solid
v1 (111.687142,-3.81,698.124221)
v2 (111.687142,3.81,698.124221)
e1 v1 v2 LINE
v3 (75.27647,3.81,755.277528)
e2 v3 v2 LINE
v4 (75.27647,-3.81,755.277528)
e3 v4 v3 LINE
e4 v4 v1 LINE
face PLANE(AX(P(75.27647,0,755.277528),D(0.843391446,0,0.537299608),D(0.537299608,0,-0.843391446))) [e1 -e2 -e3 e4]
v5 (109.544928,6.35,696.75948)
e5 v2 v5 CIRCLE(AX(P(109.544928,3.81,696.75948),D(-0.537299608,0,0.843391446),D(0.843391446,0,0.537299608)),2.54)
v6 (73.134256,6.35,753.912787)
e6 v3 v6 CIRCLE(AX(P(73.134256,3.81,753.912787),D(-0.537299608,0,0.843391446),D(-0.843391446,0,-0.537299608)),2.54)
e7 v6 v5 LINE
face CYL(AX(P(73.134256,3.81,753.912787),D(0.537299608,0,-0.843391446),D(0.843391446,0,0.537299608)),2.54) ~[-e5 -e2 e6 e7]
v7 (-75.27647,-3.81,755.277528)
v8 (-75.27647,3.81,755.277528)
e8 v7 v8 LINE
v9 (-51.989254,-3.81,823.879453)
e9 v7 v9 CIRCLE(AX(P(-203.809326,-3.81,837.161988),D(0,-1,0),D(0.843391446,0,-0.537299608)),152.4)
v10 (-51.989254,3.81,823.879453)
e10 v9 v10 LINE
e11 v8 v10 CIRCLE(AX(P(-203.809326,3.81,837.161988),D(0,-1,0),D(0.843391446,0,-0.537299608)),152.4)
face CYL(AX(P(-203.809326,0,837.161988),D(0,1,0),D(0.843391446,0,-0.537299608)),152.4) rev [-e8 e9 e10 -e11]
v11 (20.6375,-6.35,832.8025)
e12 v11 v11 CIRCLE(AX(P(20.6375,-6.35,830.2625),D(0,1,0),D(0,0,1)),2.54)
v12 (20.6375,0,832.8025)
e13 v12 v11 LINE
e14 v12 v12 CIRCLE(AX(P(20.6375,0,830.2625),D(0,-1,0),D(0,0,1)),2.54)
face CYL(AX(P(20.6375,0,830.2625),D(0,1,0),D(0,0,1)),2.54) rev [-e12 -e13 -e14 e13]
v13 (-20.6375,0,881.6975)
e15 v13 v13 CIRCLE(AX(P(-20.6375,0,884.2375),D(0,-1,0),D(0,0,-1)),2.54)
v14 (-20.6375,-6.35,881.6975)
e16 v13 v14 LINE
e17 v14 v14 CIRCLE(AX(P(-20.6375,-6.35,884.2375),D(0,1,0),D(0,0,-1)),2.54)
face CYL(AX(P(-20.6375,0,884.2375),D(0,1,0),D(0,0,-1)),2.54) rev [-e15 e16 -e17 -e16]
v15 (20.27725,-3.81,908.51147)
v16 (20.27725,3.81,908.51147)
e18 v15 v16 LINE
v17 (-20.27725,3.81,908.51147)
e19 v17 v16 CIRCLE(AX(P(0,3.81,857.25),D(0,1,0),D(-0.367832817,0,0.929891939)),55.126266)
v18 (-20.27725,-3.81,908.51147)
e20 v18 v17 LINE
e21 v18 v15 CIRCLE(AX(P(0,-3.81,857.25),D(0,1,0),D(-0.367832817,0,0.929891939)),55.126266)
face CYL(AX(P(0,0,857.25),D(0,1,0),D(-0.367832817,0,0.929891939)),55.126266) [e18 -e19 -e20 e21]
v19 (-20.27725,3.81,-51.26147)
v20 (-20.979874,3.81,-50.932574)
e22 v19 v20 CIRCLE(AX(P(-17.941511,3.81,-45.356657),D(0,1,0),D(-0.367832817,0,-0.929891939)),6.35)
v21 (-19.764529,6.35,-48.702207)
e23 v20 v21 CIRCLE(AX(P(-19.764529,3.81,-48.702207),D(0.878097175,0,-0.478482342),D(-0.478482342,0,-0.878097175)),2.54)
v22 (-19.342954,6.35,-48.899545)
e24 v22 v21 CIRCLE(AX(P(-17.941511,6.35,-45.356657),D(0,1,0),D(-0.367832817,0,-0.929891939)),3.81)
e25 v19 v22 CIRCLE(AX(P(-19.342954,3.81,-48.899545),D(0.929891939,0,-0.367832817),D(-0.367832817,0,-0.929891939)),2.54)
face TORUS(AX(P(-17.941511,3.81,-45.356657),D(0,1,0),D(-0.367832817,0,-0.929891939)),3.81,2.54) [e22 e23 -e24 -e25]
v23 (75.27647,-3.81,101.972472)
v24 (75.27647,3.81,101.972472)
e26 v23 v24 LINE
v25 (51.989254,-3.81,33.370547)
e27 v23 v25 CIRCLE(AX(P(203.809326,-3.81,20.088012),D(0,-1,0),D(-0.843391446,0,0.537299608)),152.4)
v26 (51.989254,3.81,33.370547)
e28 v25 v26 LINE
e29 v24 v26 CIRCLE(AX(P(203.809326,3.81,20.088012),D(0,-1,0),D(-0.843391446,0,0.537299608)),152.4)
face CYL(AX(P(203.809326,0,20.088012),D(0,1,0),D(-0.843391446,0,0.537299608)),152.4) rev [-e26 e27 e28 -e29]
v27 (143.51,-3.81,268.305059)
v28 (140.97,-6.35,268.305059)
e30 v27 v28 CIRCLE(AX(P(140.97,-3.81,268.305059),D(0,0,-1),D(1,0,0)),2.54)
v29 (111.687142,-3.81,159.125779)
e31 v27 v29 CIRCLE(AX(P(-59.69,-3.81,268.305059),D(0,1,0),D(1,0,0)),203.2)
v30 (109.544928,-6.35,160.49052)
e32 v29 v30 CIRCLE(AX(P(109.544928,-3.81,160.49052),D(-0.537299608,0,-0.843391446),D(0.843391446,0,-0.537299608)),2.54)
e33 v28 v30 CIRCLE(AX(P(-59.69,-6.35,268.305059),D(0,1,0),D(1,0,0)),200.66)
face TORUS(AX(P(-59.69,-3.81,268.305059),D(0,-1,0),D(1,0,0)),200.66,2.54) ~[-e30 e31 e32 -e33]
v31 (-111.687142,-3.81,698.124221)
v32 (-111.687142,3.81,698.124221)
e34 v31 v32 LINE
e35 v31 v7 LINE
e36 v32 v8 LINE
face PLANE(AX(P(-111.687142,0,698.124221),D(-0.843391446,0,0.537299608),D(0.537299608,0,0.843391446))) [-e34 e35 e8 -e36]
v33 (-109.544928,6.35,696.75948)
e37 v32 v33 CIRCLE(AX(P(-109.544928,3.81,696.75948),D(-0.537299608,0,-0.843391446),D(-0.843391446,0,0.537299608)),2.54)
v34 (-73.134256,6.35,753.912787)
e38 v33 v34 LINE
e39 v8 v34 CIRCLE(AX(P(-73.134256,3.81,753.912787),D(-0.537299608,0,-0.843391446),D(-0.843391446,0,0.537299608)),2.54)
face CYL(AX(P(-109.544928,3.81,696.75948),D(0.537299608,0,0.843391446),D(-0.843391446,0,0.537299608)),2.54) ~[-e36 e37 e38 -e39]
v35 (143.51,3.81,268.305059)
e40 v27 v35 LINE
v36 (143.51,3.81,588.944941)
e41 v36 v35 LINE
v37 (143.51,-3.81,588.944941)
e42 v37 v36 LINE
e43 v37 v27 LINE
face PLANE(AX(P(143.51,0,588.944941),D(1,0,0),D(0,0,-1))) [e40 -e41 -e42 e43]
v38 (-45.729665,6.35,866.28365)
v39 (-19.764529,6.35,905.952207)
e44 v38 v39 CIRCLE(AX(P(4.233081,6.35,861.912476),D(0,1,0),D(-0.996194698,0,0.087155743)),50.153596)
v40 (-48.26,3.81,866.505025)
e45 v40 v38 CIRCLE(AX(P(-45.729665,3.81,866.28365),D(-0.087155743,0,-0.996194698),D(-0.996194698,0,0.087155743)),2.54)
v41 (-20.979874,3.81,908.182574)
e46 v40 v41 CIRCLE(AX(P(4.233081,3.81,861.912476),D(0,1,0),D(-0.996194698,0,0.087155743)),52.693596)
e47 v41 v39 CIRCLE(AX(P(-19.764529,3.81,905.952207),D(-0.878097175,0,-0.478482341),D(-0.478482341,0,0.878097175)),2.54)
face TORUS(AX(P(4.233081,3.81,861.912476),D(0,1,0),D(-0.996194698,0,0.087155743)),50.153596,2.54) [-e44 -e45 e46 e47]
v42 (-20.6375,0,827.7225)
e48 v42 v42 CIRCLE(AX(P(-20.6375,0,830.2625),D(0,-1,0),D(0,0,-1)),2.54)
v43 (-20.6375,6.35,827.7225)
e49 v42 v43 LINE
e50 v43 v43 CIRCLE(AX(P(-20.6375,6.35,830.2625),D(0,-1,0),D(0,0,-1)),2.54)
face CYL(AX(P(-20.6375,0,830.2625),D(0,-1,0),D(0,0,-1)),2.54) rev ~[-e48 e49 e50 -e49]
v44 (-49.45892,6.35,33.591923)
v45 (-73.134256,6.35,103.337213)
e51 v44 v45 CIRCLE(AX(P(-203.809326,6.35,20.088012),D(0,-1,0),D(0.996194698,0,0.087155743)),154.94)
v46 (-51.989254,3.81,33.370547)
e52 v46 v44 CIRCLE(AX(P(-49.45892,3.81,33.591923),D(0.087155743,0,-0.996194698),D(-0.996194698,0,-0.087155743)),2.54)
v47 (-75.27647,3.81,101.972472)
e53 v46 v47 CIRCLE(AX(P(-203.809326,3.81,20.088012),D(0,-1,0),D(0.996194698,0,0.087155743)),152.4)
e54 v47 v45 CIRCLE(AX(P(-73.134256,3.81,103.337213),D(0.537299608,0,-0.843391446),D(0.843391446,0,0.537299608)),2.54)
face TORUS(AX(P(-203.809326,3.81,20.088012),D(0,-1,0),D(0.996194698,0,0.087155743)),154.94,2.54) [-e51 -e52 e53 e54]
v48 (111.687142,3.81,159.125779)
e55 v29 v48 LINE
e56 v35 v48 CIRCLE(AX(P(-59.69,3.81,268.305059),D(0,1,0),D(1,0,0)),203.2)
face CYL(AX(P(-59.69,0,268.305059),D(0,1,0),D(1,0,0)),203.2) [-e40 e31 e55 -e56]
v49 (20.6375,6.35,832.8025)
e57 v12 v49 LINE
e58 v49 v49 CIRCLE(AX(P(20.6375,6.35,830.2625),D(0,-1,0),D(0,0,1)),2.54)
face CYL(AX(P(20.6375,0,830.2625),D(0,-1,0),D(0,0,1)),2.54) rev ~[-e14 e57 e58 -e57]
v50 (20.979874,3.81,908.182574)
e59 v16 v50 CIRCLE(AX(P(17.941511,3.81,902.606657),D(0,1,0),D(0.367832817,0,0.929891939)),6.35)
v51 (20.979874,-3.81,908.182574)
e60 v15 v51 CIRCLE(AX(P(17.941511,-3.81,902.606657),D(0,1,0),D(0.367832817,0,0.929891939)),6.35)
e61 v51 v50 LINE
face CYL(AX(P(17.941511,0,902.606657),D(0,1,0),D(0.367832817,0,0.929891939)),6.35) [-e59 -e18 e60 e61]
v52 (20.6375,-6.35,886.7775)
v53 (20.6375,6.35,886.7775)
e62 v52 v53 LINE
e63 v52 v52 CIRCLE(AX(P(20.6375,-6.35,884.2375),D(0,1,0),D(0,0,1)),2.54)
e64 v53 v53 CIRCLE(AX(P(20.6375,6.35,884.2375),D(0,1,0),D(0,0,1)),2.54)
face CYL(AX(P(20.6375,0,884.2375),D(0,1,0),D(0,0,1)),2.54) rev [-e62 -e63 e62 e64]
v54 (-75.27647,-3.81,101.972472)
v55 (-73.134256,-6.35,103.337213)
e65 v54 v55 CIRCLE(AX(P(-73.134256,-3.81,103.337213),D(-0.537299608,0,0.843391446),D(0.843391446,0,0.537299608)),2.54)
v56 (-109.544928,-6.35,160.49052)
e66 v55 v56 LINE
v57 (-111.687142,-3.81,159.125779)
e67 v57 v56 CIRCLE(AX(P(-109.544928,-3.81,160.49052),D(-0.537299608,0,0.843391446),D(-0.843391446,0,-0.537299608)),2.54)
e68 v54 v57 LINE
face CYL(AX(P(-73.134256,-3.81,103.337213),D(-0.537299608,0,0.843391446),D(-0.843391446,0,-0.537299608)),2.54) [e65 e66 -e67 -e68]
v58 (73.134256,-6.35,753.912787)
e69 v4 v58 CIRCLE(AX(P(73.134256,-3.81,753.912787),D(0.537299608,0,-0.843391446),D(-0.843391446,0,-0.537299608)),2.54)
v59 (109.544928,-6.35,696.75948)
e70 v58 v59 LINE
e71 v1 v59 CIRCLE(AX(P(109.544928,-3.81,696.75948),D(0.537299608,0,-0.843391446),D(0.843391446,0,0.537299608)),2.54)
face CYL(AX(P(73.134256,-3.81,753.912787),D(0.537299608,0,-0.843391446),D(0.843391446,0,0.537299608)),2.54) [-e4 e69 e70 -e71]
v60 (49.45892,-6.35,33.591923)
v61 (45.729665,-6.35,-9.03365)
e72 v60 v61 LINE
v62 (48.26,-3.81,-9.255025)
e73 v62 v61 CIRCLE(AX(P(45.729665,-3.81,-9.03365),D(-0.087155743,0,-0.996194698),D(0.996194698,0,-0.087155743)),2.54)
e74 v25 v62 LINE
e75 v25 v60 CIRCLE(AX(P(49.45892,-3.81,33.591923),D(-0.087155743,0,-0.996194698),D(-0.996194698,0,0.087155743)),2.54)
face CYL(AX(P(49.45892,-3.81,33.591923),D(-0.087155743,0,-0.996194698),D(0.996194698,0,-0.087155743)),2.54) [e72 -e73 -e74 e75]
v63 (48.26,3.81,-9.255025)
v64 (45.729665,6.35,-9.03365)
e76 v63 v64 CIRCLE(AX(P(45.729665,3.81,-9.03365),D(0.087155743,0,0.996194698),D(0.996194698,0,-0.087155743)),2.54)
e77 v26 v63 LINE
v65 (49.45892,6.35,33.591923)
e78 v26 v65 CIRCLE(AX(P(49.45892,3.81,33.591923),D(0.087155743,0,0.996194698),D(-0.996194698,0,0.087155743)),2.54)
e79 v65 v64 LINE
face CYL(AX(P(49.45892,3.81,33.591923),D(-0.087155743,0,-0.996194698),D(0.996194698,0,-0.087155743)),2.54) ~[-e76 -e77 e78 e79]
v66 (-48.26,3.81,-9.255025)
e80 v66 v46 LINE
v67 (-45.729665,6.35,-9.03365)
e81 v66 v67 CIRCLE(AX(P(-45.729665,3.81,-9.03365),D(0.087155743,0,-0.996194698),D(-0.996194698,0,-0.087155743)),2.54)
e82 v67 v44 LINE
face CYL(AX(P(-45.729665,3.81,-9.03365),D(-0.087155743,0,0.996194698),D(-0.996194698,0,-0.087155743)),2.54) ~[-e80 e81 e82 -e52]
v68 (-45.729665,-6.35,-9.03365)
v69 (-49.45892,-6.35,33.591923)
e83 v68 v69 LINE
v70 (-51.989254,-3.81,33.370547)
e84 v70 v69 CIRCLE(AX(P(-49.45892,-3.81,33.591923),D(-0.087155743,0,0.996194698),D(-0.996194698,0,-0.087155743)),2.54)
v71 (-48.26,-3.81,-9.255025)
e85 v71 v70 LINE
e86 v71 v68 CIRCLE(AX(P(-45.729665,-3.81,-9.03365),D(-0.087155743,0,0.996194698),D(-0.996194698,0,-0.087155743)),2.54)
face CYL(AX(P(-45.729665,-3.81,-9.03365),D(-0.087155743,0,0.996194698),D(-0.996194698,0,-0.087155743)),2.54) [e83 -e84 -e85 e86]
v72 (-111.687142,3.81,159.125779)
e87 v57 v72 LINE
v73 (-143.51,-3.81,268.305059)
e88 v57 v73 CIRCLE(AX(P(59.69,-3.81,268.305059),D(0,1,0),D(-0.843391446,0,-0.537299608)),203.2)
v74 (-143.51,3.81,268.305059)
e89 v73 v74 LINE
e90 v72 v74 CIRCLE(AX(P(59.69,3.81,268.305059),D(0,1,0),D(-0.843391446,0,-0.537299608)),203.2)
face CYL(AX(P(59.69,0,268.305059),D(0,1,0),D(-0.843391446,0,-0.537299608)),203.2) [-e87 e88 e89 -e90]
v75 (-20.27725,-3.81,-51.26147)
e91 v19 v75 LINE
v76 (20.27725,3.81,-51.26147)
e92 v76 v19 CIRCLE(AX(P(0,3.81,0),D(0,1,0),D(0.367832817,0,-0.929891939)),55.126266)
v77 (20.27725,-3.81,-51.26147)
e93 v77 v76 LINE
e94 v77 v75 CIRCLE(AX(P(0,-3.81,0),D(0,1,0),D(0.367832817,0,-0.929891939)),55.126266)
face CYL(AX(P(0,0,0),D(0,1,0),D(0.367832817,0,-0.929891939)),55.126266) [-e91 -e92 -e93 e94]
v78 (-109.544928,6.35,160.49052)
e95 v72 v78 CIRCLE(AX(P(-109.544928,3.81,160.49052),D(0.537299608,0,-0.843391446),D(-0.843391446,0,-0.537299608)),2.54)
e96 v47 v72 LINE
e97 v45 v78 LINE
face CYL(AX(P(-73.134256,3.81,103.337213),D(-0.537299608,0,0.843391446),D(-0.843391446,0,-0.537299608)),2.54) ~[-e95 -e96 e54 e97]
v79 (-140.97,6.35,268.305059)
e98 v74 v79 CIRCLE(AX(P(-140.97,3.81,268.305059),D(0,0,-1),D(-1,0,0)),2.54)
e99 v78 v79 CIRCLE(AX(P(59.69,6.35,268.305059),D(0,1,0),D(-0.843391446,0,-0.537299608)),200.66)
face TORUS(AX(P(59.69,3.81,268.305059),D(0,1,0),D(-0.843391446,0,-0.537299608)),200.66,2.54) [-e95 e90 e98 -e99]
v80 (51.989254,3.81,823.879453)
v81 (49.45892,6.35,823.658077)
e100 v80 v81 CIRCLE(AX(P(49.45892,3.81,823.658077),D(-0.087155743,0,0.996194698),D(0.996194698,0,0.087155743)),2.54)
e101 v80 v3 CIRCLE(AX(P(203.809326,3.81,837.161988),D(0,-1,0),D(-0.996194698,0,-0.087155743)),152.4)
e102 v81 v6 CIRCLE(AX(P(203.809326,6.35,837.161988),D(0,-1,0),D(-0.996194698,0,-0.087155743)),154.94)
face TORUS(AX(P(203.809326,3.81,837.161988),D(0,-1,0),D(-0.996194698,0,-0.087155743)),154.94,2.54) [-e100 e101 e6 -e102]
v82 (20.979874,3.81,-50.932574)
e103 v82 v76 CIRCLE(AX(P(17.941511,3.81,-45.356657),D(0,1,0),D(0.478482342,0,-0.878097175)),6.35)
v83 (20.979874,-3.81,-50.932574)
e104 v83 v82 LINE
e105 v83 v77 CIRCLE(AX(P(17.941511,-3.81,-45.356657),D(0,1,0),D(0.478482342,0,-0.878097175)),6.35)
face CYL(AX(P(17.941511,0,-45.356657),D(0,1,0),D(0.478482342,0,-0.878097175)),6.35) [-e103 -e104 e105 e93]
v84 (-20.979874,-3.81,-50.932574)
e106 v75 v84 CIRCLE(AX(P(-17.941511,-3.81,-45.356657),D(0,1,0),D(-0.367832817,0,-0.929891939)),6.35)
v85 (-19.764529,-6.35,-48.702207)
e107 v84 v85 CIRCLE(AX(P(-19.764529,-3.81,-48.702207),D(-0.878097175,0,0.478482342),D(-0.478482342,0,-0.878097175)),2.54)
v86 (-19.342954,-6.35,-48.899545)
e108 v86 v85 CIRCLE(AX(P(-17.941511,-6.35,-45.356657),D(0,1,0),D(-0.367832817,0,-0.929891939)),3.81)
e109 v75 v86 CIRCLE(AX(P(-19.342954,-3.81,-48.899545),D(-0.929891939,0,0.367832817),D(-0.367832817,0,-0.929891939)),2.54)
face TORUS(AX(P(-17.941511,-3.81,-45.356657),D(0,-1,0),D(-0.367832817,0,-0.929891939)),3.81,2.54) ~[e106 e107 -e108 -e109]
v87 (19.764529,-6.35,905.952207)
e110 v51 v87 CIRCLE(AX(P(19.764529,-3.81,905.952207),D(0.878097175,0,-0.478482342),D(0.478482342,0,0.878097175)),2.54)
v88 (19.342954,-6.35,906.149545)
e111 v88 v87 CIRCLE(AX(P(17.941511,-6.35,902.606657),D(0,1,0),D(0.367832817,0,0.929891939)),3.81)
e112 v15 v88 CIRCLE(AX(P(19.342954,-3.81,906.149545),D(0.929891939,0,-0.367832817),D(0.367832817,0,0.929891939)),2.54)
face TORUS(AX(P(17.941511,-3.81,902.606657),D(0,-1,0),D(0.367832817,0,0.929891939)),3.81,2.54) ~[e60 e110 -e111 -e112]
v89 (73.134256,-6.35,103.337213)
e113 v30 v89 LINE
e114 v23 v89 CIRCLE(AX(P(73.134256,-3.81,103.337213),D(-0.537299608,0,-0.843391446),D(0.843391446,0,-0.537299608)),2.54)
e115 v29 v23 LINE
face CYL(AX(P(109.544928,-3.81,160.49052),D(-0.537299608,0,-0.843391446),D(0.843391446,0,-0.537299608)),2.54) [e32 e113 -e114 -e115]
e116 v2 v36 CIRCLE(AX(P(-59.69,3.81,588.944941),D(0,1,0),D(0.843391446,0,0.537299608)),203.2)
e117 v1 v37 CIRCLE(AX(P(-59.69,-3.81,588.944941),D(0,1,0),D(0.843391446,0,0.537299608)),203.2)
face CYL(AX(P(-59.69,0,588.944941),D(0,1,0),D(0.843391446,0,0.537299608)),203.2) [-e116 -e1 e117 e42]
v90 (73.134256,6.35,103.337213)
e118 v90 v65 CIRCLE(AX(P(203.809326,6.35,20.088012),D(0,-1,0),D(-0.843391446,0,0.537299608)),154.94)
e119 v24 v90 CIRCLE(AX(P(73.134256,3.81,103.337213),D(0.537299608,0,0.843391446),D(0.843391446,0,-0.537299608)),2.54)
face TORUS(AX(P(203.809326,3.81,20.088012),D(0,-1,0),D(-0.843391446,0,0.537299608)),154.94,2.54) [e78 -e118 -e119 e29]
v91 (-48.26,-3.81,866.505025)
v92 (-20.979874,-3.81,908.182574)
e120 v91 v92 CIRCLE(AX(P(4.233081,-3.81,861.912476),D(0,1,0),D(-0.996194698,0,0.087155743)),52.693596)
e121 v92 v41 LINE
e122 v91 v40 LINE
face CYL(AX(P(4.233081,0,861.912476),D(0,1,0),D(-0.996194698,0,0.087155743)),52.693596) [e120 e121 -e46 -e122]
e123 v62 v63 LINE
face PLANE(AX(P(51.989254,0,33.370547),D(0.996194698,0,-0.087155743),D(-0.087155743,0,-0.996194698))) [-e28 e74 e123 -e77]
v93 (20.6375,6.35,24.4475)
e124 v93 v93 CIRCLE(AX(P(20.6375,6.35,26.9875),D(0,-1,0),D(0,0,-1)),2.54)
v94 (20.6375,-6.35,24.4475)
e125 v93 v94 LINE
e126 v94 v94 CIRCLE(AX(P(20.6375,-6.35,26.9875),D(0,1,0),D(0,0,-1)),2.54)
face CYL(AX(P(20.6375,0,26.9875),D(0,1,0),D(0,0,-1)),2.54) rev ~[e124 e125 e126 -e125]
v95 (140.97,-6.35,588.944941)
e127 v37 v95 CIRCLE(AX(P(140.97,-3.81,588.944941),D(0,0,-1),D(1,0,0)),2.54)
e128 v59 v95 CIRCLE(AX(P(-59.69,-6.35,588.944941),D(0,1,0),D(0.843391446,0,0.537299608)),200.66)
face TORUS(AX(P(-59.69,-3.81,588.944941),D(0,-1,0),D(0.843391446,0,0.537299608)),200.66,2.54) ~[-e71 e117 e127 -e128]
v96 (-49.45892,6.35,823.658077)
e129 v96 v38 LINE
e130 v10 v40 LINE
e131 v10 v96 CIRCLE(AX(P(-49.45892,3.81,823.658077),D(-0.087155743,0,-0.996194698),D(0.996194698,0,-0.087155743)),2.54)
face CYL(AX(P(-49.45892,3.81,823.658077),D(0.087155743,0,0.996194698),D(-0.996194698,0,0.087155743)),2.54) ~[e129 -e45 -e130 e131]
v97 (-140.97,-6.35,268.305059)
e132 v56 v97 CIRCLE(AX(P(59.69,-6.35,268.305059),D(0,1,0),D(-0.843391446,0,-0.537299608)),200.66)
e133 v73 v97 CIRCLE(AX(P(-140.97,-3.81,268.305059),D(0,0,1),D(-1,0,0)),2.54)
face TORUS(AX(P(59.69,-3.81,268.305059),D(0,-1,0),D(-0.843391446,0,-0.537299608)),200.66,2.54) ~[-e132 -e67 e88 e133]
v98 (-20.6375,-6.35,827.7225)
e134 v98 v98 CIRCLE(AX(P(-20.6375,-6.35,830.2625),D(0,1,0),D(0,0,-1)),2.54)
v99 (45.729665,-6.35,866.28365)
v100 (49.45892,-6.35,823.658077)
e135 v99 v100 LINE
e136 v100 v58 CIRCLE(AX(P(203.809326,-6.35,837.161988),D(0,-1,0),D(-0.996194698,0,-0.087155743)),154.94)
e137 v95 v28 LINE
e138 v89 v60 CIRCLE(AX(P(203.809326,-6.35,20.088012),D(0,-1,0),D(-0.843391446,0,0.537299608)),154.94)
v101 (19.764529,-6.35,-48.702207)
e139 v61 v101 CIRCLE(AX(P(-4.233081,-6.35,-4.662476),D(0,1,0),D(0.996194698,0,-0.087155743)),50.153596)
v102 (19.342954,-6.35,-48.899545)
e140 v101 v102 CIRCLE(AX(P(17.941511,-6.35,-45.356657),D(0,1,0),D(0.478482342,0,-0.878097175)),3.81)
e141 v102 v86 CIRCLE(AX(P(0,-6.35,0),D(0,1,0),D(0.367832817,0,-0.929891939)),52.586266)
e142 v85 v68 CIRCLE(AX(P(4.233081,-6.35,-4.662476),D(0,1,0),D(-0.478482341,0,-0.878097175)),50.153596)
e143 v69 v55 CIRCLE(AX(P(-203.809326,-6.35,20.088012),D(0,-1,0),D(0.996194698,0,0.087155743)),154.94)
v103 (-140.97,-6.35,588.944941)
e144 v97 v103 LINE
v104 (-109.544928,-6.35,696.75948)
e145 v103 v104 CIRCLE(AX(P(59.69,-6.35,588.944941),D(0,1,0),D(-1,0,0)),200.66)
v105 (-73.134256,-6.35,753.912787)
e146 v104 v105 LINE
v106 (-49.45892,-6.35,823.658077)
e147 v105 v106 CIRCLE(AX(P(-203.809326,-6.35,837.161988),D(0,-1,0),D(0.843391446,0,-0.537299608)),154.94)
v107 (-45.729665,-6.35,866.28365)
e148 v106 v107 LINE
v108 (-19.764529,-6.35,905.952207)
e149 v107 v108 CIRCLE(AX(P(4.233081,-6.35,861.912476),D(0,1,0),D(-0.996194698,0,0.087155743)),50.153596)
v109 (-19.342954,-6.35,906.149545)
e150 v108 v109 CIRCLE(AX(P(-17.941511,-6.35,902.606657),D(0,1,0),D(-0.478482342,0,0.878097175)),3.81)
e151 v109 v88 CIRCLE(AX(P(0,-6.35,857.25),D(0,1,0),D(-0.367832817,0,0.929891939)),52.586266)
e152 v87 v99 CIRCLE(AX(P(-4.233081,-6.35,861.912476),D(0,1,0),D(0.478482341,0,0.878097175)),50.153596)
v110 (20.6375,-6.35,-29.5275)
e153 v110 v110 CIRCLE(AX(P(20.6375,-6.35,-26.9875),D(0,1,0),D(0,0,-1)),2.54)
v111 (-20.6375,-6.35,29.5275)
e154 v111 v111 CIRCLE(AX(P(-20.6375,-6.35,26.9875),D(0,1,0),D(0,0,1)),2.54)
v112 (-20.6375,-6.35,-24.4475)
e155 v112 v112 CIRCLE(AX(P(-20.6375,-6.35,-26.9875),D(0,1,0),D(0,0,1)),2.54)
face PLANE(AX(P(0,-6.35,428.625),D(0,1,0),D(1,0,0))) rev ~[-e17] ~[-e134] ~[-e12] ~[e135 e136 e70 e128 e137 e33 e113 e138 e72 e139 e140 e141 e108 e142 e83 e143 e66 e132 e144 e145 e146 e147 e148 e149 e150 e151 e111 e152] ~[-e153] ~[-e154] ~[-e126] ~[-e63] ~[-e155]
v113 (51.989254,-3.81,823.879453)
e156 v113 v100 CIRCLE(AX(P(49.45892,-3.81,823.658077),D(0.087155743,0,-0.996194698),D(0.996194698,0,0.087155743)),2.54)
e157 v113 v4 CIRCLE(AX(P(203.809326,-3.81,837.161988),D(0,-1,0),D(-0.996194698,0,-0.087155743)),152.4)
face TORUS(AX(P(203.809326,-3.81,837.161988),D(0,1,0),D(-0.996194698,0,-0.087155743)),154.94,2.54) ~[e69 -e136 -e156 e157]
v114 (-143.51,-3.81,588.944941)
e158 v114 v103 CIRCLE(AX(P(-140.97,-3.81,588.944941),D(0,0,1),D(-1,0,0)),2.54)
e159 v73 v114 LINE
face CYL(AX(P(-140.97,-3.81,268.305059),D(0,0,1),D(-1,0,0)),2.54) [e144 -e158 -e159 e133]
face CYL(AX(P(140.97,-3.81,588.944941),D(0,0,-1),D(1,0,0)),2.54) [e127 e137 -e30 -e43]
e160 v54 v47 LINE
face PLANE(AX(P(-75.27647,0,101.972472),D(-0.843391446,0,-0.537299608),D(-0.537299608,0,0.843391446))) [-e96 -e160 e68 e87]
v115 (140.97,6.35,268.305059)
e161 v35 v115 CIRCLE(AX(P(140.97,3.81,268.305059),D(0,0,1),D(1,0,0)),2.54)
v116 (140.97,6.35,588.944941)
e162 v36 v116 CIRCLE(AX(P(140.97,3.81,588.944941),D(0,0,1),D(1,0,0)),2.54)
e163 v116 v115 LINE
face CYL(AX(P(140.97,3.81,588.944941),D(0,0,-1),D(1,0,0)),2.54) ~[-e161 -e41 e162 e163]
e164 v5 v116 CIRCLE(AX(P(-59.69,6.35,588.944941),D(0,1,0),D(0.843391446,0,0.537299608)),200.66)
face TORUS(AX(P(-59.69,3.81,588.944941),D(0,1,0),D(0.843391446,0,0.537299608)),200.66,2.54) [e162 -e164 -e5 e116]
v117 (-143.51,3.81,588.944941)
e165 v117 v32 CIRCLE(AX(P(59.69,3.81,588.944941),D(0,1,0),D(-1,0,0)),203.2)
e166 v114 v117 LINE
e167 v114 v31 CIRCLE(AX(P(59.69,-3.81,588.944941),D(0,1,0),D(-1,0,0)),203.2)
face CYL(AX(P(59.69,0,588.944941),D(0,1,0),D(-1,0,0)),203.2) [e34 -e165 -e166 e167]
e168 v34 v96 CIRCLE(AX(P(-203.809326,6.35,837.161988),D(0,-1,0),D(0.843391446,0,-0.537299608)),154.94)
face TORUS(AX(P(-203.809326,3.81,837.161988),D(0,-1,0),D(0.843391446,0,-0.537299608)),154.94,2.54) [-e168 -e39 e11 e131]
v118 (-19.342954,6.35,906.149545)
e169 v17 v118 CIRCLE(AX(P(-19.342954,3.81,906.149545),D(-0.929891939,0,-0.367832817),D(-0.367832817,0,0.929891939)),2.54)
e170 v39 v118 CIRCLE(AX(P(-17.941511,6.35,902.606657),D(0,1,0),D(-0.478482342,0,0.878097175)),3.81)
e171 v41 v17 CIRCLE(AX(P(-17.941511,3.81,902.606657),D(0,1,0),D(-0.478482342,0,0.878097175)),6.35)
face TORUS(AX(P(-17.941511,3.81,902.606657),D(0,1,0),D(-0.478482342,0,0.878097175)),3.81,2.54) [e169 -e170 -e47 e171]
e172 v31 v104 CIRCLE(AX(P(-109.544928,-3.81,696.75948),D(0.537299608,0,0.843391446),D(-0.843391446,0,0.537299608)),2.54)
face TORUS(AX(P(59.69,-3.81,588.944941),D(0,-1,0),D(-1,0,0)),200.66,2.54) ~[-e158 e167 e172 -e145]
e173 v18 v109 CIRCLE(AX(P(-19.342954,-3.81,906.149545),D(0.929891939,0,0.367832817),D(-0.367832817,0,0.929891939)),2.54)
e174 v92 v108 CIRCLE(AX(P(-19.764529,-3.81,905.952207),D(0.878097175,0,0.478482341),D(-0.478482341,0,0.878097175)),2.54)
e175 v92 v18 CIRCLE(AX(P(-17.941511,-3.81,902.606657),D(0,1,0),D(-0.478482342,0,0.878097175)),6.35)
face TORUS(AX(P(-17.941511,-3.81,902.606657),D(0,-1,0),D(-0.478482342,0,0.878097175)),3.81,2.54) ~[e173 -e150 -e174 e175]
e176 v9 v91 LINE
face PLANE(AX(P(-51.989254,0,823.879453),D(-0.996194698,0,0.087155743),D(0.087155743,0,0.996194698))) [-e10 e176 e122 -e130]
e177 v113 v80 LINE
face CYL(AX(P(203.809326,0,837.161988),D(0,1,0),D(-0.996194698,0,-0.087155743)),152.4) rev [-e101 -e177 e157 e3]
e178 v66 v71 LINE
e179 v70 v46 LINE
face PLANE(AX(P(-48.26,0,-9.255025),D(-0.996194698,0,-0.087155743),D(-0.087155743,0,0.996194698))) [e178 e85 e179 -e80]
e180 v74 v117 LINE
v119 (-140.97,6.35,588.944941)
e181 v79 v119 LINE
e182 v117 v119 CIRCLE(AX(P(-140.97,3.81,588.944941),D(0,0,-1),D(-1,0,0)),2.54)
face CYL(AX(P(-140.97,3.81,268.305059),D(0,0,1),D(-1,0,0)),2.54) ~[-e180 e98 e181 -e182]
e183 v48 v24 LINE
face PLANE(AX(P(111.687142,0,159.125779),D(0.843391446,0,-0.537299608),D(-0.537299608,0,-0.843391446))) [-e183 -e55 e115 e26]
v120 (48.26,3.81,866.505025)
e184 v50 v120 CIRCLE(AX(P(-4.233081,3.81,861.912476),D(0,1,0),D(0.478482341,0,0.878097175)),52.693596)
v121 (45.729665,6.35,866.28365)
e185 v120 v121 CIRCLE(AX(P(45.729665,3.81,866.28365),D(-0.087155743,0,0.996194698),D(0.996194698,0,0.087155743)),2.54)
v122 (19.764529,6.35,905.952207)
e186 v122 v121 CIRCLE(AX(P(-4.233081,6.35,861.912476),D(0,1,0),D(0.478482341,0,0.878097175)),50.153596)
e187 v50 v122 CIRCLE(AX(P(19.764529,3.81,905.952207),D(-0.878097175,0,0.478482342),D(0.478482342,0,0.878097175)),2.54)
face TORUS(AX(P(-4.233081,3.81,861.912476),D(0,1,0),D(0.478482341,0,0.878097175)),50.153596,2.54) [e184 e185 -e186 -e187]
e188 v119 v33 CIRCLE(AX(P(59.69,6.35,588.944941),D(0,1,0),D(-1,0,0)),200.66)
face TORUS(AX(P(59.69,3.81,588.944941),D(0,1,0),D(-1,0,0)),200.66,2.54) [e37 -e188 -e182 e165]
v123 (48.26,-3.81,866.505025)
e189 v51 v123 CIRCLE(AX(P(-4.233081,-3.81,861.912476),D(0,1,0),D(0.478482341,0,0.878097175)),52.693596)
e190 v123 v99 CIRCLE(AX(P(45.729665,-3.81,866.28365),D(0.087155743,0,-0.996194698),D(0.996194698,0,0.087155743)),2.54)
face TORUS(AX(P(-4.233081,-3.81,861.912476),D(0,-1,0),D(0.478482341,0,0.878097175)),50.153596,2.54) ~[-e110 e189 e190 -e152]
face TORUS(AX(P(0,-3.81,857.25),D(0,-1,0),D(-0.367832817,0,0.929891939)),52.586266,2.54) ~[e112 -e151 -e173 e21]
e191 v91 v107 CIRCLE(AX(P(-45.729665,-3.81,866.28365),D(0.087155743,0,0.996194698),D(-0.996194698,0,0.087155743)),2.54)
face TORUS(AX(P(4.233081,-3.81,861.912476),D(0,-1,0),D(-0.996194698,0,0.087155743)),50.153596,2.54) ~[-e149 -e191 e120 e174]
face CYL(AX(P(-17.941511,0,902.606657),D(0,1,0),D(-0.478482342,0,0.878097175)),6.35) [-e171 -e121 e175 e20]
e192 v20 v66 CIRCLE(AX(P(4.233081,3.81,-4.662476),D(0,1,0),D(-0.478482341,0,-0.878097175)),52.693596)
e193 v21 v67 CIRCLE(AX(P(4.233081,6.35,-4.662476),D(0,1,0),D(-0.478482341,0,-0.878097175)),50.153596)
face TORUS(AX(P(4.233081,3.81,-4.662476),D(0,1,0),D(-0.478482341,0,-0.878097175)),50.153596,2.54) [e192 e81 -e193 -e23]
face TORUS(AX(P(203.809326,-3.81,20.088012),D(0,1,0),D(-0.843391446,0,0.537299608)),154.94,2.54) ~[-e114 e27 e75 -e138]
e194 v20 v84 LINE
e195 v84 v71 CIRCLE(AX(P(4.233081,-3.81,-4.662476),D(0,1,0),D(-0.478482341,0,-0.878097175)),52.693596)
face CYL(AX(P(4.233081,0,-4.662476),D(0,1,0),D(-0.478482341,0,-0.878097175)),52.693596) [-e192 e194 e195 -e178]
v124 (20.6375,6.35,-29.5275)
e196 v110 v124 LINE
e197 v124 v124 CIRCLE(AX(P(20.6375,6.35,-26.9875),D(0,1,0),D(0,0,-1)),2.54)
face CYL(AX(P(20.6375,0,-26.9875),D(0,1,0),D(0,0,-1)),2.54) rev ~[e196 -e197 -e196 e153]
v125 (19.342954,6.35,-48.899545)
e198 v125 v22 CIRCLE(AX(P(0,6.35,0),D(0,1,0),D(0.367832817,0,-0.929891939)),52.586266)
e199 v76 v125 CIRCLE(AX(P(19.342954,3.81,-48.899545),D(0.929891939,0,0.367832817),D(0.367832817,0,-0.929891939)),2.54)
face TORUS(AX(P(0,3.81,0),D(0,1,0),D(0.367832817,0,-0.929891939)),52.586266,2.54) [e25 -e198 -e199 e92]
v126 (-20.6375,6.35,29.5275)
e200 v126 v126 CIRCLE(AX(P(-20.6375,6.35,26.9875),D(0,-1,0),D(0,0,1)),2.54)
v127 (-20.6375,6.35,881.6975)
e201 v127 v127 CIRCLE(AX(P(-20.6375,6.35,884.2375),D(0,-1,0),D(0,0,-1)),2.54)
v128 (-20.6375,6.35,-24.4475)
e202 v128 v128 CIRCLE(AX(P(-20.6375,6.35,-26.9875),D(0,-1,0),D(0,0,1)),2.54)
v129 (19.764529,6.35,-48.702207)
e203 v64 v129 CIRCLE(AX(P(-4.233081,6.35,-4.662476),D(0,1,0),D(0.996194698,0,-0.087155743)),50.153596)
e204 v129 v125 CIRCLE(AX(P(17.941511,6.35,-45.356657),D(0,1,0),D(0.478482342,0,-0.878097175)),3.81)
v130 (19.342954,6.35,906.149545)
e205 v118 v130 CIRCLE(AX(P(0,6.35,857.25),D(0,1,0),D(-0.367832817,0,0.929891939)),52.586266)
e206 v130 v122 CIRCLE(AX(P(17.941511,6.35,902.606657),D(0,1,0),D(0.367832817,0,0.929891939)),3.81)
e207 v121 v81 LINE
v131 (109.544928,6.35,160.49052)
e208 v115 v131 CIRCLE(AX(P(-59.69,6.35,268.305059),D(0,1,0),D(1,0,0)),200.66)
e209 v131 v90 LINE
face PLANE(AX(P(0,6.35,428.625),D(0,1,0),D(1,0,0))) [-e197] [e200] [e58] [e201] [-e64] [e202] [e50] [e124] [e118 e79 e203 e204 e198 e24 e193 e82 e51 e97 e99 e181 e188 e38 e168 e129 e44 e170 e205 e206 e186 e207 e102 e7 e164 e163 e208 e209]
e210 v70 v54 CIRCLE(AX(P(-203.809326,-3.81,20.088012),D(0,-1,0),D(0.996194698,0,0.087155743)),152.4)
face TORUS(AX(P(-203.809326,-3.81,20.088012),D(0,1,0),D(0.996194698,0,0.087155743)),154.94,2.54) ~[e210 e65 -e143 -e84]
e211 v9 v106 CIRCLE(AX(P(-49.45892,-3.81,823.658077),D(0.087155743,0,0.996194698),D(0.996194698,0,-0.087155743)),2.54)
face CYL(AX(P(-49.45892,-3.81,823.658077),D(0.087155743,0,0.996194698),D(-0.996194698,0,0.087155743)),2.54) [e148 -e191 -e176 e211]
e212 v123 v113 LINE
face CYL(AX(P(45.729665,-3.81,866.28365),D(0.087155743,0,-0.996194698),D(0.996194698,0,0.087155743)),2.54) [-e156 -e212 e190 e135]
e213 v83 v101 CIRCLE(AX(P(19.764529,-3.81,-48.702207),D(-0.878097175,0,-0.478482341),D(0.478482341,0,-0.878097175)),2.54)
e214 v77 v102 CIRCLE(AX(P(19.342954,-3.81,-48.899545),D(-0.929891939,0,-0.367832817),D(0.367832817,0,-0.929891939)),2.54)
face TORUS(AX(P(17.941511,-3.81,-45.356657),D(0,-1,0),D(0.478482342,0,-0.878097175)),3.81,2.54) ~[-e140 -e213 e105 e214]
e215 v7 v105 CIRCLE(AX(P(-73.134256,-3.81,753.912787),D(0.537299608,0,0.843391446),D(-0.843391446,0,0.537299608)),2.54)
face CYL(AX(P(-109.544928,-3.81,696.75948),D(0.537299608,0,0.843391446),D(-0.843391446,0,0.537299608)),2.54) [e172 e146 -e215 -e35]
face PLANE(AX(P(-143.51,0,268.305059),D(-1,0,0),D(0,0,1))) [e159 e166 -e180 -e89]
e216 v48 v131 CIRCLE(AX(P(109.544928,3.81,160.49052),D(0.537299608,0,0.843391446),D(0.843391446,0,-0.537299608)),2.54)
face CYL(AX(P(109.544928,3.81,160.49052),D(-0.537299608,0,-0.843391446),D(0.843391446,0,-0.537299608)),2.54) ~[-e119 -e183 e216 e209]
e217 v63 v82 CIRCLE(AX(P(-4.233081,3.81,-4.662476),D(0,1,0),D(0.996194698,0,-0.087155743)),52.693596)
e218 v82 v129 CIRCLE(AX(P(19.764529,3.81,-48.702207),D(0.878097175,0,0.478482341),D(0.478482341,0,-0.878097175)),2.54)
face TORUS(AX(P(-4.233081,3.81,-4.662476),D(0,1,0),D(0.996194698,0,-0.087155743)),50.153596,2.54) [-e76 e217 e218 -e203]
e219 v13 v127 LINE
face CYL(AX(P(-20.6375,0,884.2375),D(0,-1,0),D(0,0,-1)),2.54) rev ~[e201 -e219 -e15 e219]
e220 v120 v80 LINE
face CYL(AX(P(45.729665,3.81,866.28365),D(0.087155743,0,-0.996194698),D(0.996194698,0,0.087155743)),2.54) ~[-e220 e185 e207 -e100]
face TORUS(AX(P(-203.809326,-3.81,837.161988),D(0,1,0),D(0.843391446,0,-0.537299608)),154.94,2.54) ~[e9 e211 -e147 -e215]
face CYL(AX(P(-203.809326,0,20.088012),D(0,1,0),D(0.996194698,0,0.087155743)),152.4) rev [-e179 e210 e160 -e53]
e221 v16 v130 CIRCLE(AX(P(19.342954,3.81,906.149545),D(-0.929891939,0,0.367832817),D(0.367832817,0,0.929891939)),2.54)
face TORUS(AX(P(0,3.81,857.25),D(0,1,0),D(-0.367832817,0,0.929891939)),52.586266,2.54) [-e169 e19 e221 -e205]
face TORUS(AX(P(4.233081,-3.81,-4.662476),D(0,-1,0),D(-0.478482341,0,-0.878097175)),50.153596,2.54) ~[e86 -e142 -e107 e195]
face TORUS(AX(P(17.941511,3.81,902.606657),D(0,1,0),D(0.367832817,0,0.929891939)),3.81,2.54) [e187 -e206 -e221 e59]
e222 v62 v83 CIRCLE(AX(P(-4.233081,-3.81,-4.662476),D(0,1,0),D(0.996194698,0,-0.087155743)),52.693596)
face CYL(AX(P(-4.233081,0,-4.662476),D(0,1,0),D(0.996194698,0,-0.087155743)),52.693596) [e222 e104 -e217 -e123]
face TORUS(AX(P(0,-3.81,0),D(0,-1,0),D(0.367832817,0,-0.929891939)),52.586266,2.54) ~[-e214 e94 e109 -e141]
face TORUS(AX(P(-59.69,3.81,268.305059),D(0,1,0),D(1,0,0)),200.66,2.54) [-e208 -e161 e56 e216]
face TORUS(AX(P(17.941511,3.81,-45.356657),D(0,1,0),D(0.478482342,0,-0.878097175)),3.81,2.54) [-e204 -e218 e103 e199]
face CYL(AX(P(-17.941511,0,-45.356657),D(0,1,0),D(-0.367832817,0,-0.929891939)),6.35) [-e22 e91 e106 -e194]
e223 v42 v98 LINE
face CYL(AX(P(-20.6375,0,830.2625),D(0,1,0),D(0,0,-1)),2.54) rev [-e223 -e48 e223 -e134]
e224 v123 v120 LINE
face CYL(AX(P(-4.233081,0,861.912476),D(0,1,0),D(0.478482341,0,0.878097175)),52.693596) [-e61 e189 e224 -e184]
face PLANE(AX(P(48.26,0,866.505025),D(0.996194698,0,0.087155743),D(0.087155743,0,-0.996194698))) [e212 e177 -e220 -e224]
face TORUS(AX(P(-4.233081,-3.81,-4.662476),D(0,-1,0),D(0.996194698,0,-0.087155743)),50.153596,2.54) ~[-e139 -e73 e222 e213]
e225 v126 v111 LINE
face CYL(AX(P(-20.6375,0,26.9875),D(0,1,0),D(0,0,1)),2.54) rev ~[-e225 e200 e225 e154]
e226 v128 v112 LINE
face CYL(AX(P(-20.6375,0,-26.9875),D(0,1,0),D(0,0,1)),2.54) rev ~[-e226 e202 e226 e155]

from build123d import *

# Parameters (mm, degrees)
BOSS_EXTRUDE1_DEPTH = 6.35
FILLET1_R           = 2.54
SKETCH2_R           = 2.54
CUT_EXTRUDE4_DEPTH  = 924.615663427


with BuildPart() as part:
    # Sketch1 → Boss-Extrude1 (new, symmetric)
    with BuildSketch(Plane(origin=(0, 0, 0), x_dir=(1, 0, 0), z_dir=(0, 1, 0))):
        with BuildLine():
            Line((-48.26, 9.255025399), (-51.989254389, -33.370547313))
            ThreePointArc((-51.989254389, -33.370547313), (-59.497174643, -69.07538663), (-75.276470036, -101.97247243))
            Line((-75.276470036, -101.97247243), (-111.687141789, -159.125778734))
            ThreePointArc((-111.687141789, -159.125778734), (-135.392130411, -211.443803499), (-143.51, -268.30505915))
            Line((-143.51, -268.30505915), (-143.51, -588.94494085))
            ThreePointArc((-143.51, -588.94494085), (-135.392130411, -645.806196501), (-111.687141789, -698.124221266))
            Line((-111.687141789, -698.124221266), (-75.276470036, -755.27752757))
            ThreePointArc((-75.276470036, -755.27752757), (-59.497174643, -788.17461337), (-51.989254389, -823.879452687))
            Line((-51.989254389, -823.879452687), (-48.26, -866.505025399))
            ThreePointArc((-48.26, -866.505025399), (-39.855596961, -890.770811598), (-20.979874202, -908.182573732))
            ThreePointArc((-20.979874202, -908.182573732), (-20.633589406, -908.357762273), (-20.277249721, -908.511470485))
            ThreePointArc((-20.277249721, -908.511470485), (0, -912.376266085), (20.277249721, -908.511470485))
            ThreePointArc((20.277249721, -908.511470485), (20.633589406, -908.357762273), (20.979874202, -908.182573732))
            ThreePointArc((20.979874202, -908.182573732), (39.855596961, -890.770811598), (48.26, -866.505025399))
            Line((48.26, -866.505025399), (51.989254389, -823.879452687))
            ThreePointArc((51.989254389, -823.879452687), (59.497174643, -788.17461337), (75.276470036, -755.27752757))
            Line((75.276470036, -755.27752757), (111.687141789, -698.124221266))
            ThreePointArc((111.687141789, -698.124221266), (135.392130411, -645.806196501), (143.51, -588.94494085))
            Line((143.51, -588.94494085), (143.51, -268.30505915))
            ThreePointArc((143.51, -268.30505915), (135.392130411, -211.443803499), (111.687141789, -159.125778734))
            Line((111.687141789, -159.125778734), (75.276470036, -101.97247243))
            ThreePointArc((75.276470036, -101.97247243), (59.497174643, -69.07538663), (51.989254389, -33.370547313))
            Line((51.989254389, -33.370547313), (48.26, 9.255025399))
            ThreePointArc((48.26, 9.255025399), (39.855596961, 33.520811598), (20.979874202, 50.932573732))
            ThreePointArc((20.979874202, 50.932573732), (20.633589406, 51.107762273), (20.277249721, 51.261470485))
            ThreePointArc((20.277249721, 51.261470485), (0, 55.126266085), (-20.277249721, 51.261470485))
            ThreePointArc((-20.277249721, 51.261470485), (-20.633589406, 51.107762273), (-20.979874202, 50.932573732))
            ThreePointArc((-20.979874202, 50.932573732), (-39.855596961, 33.520811598), (-48.26, 9.255025399))
        make_face()
    extrude(amount=BOSS_EXTRUDE1_DEPTH, both=True)

    # Fillet1
    fillet1_edges = [part.edges().sort_by_distance(p)[0] for p in [
        (-50.124627194, 6.35, 12.057760957),
        (-59.497174643, 6.35, 69.07538663),
        (-93.481805913, 6.35, 130.549125582),
        (-135.392130411, 6.35, 211.443803499),
        (-93.481805913, 6.35, 726.700874418),
        (-59.497174643, 6.35, 788.17461337),
        (-50.124627194, 6.35, 845.192239043),
        (-39.855596961, 6.35, 890.770811598),
        (-135.392130411, -6.35, 211.443803499),
        (-93.481805913, -6.35, 130.549125582),
        (-59.497174643, -6.35, 69.07538663),
        (-50.124627194, -6.35, 12.057760957),
        (-39.855596961, -6.35, -33.520811598),
        (-20.633589406, 6.35, 908.357762273),
        (-20.633589406, -6.35, -51.107762273),
        (0, -6.35, -55.126266085),
        (20.633589406, -6.35, -51.107762273),
        (39.855596961, -6.35, -33.520811598),
        (50.124627194, -6.35, 12.057760957),
        (59.497174643, -6.35, 69.07538663),
        (93.481805913, -6.35, 130.549125582),
        (135.392130411, -6.35, 211.443803499),
        (0, 6.35, 912.376266085),
        (143.51, -6.35, 428.625),
        (135.392130411, -6.35, 645.806196501),
        (93.481805913, -6.35, 726.700874418),
        (59.497174643, -6.35, 788.17461337),
        (50.124627194, -6.35, 845.192239043),
        (39.855596961, -6.35, 890.770811598),
        (20.633589406, -6.35, 908.357762273),
        (20.633589406, 6.35, 908.357762273),
        (0, -6.35, 912.376266085),
        (-20.633589406, -6.35, 908.357762273),
        (-39.855596961, -6.35, 890.770811598),
        (-50.124627194, -6.35, 845.192239043),
        (-59.497174643, -6.35, 788.17461337),
        (-93.481805913, -6.35, 726.700874418),
        (-143.51, 6.35, 428.625),
        (-135.392130411, -6.35, 645.806196501),
        (-143.51, -6.35, 428.625),
        (39.855596961, 6.35, 890.770811598),
        (50.124627194, 6.35, 845.192239043),
        (59.497174643, 6.35, 788.17461337),
        (93.481805913, 6.35, 726.700874418),
        (135.392130411, 6.35, 645.806196501),
        (143.51, 6.35, 428.625),
        (135.392130411, 6.35, 211.443803499),
        (93.481805913, 6.35, 130.549125582),
        (59.497174643, 6.35, 69.07538663),
        (50.124627194, 6.35, 12.057760957),
        (39.855596961, 6.35, -33.520811598),
        (20.633589406, 6.35, -51.107762273),
        (-135.392130411, 6.35, 645.806196501),
        (0, 6.35, -55.126266085),
        (-20.633589406, 6.35, -51.107762273),
        (-39.855596961, 6.35, -33.520811598),
    ]]
    fillet(fillet1_edges, radius=FILLET1_R)

    # Sketch2 → Cut-Extrude4 (cut, symmetric)
    with BuildSketch(Plane(origin=(0, 0, 0), x_dir=(1, 0, 0), z_dir=(0, 1, 0))):
        with Locations(Location((-20.6375, 26.9875, 0), (0, 0, 270))):
            Circle(SKETCH2_R)
        with Locations(Location((-20.6375, -26.9875, 0), (0, 0, 270))):
            Circle(SKETCH2_R)
        with Locations(Location((20.6375, -26.9875, 0), (0, 0, 90))):
            Circle(SKETCH2_R)
        with Locations(Location((20.6375, 26.9875, 0), (0, 0, 90))):
            Circle(SKETCH2_R)
    cut_extrude4 = extrude(amount=CUT_EXTRUDE4_DEPTH, both=True, mode=Mode.SUBTRACT)

    # Mirror1: Cut-Extrude4 across plane
    add(cut_extrude4.mirror(Plane.XY.offset(428.625)), mode=Mode.SUBTRACT)


solid = part.part
